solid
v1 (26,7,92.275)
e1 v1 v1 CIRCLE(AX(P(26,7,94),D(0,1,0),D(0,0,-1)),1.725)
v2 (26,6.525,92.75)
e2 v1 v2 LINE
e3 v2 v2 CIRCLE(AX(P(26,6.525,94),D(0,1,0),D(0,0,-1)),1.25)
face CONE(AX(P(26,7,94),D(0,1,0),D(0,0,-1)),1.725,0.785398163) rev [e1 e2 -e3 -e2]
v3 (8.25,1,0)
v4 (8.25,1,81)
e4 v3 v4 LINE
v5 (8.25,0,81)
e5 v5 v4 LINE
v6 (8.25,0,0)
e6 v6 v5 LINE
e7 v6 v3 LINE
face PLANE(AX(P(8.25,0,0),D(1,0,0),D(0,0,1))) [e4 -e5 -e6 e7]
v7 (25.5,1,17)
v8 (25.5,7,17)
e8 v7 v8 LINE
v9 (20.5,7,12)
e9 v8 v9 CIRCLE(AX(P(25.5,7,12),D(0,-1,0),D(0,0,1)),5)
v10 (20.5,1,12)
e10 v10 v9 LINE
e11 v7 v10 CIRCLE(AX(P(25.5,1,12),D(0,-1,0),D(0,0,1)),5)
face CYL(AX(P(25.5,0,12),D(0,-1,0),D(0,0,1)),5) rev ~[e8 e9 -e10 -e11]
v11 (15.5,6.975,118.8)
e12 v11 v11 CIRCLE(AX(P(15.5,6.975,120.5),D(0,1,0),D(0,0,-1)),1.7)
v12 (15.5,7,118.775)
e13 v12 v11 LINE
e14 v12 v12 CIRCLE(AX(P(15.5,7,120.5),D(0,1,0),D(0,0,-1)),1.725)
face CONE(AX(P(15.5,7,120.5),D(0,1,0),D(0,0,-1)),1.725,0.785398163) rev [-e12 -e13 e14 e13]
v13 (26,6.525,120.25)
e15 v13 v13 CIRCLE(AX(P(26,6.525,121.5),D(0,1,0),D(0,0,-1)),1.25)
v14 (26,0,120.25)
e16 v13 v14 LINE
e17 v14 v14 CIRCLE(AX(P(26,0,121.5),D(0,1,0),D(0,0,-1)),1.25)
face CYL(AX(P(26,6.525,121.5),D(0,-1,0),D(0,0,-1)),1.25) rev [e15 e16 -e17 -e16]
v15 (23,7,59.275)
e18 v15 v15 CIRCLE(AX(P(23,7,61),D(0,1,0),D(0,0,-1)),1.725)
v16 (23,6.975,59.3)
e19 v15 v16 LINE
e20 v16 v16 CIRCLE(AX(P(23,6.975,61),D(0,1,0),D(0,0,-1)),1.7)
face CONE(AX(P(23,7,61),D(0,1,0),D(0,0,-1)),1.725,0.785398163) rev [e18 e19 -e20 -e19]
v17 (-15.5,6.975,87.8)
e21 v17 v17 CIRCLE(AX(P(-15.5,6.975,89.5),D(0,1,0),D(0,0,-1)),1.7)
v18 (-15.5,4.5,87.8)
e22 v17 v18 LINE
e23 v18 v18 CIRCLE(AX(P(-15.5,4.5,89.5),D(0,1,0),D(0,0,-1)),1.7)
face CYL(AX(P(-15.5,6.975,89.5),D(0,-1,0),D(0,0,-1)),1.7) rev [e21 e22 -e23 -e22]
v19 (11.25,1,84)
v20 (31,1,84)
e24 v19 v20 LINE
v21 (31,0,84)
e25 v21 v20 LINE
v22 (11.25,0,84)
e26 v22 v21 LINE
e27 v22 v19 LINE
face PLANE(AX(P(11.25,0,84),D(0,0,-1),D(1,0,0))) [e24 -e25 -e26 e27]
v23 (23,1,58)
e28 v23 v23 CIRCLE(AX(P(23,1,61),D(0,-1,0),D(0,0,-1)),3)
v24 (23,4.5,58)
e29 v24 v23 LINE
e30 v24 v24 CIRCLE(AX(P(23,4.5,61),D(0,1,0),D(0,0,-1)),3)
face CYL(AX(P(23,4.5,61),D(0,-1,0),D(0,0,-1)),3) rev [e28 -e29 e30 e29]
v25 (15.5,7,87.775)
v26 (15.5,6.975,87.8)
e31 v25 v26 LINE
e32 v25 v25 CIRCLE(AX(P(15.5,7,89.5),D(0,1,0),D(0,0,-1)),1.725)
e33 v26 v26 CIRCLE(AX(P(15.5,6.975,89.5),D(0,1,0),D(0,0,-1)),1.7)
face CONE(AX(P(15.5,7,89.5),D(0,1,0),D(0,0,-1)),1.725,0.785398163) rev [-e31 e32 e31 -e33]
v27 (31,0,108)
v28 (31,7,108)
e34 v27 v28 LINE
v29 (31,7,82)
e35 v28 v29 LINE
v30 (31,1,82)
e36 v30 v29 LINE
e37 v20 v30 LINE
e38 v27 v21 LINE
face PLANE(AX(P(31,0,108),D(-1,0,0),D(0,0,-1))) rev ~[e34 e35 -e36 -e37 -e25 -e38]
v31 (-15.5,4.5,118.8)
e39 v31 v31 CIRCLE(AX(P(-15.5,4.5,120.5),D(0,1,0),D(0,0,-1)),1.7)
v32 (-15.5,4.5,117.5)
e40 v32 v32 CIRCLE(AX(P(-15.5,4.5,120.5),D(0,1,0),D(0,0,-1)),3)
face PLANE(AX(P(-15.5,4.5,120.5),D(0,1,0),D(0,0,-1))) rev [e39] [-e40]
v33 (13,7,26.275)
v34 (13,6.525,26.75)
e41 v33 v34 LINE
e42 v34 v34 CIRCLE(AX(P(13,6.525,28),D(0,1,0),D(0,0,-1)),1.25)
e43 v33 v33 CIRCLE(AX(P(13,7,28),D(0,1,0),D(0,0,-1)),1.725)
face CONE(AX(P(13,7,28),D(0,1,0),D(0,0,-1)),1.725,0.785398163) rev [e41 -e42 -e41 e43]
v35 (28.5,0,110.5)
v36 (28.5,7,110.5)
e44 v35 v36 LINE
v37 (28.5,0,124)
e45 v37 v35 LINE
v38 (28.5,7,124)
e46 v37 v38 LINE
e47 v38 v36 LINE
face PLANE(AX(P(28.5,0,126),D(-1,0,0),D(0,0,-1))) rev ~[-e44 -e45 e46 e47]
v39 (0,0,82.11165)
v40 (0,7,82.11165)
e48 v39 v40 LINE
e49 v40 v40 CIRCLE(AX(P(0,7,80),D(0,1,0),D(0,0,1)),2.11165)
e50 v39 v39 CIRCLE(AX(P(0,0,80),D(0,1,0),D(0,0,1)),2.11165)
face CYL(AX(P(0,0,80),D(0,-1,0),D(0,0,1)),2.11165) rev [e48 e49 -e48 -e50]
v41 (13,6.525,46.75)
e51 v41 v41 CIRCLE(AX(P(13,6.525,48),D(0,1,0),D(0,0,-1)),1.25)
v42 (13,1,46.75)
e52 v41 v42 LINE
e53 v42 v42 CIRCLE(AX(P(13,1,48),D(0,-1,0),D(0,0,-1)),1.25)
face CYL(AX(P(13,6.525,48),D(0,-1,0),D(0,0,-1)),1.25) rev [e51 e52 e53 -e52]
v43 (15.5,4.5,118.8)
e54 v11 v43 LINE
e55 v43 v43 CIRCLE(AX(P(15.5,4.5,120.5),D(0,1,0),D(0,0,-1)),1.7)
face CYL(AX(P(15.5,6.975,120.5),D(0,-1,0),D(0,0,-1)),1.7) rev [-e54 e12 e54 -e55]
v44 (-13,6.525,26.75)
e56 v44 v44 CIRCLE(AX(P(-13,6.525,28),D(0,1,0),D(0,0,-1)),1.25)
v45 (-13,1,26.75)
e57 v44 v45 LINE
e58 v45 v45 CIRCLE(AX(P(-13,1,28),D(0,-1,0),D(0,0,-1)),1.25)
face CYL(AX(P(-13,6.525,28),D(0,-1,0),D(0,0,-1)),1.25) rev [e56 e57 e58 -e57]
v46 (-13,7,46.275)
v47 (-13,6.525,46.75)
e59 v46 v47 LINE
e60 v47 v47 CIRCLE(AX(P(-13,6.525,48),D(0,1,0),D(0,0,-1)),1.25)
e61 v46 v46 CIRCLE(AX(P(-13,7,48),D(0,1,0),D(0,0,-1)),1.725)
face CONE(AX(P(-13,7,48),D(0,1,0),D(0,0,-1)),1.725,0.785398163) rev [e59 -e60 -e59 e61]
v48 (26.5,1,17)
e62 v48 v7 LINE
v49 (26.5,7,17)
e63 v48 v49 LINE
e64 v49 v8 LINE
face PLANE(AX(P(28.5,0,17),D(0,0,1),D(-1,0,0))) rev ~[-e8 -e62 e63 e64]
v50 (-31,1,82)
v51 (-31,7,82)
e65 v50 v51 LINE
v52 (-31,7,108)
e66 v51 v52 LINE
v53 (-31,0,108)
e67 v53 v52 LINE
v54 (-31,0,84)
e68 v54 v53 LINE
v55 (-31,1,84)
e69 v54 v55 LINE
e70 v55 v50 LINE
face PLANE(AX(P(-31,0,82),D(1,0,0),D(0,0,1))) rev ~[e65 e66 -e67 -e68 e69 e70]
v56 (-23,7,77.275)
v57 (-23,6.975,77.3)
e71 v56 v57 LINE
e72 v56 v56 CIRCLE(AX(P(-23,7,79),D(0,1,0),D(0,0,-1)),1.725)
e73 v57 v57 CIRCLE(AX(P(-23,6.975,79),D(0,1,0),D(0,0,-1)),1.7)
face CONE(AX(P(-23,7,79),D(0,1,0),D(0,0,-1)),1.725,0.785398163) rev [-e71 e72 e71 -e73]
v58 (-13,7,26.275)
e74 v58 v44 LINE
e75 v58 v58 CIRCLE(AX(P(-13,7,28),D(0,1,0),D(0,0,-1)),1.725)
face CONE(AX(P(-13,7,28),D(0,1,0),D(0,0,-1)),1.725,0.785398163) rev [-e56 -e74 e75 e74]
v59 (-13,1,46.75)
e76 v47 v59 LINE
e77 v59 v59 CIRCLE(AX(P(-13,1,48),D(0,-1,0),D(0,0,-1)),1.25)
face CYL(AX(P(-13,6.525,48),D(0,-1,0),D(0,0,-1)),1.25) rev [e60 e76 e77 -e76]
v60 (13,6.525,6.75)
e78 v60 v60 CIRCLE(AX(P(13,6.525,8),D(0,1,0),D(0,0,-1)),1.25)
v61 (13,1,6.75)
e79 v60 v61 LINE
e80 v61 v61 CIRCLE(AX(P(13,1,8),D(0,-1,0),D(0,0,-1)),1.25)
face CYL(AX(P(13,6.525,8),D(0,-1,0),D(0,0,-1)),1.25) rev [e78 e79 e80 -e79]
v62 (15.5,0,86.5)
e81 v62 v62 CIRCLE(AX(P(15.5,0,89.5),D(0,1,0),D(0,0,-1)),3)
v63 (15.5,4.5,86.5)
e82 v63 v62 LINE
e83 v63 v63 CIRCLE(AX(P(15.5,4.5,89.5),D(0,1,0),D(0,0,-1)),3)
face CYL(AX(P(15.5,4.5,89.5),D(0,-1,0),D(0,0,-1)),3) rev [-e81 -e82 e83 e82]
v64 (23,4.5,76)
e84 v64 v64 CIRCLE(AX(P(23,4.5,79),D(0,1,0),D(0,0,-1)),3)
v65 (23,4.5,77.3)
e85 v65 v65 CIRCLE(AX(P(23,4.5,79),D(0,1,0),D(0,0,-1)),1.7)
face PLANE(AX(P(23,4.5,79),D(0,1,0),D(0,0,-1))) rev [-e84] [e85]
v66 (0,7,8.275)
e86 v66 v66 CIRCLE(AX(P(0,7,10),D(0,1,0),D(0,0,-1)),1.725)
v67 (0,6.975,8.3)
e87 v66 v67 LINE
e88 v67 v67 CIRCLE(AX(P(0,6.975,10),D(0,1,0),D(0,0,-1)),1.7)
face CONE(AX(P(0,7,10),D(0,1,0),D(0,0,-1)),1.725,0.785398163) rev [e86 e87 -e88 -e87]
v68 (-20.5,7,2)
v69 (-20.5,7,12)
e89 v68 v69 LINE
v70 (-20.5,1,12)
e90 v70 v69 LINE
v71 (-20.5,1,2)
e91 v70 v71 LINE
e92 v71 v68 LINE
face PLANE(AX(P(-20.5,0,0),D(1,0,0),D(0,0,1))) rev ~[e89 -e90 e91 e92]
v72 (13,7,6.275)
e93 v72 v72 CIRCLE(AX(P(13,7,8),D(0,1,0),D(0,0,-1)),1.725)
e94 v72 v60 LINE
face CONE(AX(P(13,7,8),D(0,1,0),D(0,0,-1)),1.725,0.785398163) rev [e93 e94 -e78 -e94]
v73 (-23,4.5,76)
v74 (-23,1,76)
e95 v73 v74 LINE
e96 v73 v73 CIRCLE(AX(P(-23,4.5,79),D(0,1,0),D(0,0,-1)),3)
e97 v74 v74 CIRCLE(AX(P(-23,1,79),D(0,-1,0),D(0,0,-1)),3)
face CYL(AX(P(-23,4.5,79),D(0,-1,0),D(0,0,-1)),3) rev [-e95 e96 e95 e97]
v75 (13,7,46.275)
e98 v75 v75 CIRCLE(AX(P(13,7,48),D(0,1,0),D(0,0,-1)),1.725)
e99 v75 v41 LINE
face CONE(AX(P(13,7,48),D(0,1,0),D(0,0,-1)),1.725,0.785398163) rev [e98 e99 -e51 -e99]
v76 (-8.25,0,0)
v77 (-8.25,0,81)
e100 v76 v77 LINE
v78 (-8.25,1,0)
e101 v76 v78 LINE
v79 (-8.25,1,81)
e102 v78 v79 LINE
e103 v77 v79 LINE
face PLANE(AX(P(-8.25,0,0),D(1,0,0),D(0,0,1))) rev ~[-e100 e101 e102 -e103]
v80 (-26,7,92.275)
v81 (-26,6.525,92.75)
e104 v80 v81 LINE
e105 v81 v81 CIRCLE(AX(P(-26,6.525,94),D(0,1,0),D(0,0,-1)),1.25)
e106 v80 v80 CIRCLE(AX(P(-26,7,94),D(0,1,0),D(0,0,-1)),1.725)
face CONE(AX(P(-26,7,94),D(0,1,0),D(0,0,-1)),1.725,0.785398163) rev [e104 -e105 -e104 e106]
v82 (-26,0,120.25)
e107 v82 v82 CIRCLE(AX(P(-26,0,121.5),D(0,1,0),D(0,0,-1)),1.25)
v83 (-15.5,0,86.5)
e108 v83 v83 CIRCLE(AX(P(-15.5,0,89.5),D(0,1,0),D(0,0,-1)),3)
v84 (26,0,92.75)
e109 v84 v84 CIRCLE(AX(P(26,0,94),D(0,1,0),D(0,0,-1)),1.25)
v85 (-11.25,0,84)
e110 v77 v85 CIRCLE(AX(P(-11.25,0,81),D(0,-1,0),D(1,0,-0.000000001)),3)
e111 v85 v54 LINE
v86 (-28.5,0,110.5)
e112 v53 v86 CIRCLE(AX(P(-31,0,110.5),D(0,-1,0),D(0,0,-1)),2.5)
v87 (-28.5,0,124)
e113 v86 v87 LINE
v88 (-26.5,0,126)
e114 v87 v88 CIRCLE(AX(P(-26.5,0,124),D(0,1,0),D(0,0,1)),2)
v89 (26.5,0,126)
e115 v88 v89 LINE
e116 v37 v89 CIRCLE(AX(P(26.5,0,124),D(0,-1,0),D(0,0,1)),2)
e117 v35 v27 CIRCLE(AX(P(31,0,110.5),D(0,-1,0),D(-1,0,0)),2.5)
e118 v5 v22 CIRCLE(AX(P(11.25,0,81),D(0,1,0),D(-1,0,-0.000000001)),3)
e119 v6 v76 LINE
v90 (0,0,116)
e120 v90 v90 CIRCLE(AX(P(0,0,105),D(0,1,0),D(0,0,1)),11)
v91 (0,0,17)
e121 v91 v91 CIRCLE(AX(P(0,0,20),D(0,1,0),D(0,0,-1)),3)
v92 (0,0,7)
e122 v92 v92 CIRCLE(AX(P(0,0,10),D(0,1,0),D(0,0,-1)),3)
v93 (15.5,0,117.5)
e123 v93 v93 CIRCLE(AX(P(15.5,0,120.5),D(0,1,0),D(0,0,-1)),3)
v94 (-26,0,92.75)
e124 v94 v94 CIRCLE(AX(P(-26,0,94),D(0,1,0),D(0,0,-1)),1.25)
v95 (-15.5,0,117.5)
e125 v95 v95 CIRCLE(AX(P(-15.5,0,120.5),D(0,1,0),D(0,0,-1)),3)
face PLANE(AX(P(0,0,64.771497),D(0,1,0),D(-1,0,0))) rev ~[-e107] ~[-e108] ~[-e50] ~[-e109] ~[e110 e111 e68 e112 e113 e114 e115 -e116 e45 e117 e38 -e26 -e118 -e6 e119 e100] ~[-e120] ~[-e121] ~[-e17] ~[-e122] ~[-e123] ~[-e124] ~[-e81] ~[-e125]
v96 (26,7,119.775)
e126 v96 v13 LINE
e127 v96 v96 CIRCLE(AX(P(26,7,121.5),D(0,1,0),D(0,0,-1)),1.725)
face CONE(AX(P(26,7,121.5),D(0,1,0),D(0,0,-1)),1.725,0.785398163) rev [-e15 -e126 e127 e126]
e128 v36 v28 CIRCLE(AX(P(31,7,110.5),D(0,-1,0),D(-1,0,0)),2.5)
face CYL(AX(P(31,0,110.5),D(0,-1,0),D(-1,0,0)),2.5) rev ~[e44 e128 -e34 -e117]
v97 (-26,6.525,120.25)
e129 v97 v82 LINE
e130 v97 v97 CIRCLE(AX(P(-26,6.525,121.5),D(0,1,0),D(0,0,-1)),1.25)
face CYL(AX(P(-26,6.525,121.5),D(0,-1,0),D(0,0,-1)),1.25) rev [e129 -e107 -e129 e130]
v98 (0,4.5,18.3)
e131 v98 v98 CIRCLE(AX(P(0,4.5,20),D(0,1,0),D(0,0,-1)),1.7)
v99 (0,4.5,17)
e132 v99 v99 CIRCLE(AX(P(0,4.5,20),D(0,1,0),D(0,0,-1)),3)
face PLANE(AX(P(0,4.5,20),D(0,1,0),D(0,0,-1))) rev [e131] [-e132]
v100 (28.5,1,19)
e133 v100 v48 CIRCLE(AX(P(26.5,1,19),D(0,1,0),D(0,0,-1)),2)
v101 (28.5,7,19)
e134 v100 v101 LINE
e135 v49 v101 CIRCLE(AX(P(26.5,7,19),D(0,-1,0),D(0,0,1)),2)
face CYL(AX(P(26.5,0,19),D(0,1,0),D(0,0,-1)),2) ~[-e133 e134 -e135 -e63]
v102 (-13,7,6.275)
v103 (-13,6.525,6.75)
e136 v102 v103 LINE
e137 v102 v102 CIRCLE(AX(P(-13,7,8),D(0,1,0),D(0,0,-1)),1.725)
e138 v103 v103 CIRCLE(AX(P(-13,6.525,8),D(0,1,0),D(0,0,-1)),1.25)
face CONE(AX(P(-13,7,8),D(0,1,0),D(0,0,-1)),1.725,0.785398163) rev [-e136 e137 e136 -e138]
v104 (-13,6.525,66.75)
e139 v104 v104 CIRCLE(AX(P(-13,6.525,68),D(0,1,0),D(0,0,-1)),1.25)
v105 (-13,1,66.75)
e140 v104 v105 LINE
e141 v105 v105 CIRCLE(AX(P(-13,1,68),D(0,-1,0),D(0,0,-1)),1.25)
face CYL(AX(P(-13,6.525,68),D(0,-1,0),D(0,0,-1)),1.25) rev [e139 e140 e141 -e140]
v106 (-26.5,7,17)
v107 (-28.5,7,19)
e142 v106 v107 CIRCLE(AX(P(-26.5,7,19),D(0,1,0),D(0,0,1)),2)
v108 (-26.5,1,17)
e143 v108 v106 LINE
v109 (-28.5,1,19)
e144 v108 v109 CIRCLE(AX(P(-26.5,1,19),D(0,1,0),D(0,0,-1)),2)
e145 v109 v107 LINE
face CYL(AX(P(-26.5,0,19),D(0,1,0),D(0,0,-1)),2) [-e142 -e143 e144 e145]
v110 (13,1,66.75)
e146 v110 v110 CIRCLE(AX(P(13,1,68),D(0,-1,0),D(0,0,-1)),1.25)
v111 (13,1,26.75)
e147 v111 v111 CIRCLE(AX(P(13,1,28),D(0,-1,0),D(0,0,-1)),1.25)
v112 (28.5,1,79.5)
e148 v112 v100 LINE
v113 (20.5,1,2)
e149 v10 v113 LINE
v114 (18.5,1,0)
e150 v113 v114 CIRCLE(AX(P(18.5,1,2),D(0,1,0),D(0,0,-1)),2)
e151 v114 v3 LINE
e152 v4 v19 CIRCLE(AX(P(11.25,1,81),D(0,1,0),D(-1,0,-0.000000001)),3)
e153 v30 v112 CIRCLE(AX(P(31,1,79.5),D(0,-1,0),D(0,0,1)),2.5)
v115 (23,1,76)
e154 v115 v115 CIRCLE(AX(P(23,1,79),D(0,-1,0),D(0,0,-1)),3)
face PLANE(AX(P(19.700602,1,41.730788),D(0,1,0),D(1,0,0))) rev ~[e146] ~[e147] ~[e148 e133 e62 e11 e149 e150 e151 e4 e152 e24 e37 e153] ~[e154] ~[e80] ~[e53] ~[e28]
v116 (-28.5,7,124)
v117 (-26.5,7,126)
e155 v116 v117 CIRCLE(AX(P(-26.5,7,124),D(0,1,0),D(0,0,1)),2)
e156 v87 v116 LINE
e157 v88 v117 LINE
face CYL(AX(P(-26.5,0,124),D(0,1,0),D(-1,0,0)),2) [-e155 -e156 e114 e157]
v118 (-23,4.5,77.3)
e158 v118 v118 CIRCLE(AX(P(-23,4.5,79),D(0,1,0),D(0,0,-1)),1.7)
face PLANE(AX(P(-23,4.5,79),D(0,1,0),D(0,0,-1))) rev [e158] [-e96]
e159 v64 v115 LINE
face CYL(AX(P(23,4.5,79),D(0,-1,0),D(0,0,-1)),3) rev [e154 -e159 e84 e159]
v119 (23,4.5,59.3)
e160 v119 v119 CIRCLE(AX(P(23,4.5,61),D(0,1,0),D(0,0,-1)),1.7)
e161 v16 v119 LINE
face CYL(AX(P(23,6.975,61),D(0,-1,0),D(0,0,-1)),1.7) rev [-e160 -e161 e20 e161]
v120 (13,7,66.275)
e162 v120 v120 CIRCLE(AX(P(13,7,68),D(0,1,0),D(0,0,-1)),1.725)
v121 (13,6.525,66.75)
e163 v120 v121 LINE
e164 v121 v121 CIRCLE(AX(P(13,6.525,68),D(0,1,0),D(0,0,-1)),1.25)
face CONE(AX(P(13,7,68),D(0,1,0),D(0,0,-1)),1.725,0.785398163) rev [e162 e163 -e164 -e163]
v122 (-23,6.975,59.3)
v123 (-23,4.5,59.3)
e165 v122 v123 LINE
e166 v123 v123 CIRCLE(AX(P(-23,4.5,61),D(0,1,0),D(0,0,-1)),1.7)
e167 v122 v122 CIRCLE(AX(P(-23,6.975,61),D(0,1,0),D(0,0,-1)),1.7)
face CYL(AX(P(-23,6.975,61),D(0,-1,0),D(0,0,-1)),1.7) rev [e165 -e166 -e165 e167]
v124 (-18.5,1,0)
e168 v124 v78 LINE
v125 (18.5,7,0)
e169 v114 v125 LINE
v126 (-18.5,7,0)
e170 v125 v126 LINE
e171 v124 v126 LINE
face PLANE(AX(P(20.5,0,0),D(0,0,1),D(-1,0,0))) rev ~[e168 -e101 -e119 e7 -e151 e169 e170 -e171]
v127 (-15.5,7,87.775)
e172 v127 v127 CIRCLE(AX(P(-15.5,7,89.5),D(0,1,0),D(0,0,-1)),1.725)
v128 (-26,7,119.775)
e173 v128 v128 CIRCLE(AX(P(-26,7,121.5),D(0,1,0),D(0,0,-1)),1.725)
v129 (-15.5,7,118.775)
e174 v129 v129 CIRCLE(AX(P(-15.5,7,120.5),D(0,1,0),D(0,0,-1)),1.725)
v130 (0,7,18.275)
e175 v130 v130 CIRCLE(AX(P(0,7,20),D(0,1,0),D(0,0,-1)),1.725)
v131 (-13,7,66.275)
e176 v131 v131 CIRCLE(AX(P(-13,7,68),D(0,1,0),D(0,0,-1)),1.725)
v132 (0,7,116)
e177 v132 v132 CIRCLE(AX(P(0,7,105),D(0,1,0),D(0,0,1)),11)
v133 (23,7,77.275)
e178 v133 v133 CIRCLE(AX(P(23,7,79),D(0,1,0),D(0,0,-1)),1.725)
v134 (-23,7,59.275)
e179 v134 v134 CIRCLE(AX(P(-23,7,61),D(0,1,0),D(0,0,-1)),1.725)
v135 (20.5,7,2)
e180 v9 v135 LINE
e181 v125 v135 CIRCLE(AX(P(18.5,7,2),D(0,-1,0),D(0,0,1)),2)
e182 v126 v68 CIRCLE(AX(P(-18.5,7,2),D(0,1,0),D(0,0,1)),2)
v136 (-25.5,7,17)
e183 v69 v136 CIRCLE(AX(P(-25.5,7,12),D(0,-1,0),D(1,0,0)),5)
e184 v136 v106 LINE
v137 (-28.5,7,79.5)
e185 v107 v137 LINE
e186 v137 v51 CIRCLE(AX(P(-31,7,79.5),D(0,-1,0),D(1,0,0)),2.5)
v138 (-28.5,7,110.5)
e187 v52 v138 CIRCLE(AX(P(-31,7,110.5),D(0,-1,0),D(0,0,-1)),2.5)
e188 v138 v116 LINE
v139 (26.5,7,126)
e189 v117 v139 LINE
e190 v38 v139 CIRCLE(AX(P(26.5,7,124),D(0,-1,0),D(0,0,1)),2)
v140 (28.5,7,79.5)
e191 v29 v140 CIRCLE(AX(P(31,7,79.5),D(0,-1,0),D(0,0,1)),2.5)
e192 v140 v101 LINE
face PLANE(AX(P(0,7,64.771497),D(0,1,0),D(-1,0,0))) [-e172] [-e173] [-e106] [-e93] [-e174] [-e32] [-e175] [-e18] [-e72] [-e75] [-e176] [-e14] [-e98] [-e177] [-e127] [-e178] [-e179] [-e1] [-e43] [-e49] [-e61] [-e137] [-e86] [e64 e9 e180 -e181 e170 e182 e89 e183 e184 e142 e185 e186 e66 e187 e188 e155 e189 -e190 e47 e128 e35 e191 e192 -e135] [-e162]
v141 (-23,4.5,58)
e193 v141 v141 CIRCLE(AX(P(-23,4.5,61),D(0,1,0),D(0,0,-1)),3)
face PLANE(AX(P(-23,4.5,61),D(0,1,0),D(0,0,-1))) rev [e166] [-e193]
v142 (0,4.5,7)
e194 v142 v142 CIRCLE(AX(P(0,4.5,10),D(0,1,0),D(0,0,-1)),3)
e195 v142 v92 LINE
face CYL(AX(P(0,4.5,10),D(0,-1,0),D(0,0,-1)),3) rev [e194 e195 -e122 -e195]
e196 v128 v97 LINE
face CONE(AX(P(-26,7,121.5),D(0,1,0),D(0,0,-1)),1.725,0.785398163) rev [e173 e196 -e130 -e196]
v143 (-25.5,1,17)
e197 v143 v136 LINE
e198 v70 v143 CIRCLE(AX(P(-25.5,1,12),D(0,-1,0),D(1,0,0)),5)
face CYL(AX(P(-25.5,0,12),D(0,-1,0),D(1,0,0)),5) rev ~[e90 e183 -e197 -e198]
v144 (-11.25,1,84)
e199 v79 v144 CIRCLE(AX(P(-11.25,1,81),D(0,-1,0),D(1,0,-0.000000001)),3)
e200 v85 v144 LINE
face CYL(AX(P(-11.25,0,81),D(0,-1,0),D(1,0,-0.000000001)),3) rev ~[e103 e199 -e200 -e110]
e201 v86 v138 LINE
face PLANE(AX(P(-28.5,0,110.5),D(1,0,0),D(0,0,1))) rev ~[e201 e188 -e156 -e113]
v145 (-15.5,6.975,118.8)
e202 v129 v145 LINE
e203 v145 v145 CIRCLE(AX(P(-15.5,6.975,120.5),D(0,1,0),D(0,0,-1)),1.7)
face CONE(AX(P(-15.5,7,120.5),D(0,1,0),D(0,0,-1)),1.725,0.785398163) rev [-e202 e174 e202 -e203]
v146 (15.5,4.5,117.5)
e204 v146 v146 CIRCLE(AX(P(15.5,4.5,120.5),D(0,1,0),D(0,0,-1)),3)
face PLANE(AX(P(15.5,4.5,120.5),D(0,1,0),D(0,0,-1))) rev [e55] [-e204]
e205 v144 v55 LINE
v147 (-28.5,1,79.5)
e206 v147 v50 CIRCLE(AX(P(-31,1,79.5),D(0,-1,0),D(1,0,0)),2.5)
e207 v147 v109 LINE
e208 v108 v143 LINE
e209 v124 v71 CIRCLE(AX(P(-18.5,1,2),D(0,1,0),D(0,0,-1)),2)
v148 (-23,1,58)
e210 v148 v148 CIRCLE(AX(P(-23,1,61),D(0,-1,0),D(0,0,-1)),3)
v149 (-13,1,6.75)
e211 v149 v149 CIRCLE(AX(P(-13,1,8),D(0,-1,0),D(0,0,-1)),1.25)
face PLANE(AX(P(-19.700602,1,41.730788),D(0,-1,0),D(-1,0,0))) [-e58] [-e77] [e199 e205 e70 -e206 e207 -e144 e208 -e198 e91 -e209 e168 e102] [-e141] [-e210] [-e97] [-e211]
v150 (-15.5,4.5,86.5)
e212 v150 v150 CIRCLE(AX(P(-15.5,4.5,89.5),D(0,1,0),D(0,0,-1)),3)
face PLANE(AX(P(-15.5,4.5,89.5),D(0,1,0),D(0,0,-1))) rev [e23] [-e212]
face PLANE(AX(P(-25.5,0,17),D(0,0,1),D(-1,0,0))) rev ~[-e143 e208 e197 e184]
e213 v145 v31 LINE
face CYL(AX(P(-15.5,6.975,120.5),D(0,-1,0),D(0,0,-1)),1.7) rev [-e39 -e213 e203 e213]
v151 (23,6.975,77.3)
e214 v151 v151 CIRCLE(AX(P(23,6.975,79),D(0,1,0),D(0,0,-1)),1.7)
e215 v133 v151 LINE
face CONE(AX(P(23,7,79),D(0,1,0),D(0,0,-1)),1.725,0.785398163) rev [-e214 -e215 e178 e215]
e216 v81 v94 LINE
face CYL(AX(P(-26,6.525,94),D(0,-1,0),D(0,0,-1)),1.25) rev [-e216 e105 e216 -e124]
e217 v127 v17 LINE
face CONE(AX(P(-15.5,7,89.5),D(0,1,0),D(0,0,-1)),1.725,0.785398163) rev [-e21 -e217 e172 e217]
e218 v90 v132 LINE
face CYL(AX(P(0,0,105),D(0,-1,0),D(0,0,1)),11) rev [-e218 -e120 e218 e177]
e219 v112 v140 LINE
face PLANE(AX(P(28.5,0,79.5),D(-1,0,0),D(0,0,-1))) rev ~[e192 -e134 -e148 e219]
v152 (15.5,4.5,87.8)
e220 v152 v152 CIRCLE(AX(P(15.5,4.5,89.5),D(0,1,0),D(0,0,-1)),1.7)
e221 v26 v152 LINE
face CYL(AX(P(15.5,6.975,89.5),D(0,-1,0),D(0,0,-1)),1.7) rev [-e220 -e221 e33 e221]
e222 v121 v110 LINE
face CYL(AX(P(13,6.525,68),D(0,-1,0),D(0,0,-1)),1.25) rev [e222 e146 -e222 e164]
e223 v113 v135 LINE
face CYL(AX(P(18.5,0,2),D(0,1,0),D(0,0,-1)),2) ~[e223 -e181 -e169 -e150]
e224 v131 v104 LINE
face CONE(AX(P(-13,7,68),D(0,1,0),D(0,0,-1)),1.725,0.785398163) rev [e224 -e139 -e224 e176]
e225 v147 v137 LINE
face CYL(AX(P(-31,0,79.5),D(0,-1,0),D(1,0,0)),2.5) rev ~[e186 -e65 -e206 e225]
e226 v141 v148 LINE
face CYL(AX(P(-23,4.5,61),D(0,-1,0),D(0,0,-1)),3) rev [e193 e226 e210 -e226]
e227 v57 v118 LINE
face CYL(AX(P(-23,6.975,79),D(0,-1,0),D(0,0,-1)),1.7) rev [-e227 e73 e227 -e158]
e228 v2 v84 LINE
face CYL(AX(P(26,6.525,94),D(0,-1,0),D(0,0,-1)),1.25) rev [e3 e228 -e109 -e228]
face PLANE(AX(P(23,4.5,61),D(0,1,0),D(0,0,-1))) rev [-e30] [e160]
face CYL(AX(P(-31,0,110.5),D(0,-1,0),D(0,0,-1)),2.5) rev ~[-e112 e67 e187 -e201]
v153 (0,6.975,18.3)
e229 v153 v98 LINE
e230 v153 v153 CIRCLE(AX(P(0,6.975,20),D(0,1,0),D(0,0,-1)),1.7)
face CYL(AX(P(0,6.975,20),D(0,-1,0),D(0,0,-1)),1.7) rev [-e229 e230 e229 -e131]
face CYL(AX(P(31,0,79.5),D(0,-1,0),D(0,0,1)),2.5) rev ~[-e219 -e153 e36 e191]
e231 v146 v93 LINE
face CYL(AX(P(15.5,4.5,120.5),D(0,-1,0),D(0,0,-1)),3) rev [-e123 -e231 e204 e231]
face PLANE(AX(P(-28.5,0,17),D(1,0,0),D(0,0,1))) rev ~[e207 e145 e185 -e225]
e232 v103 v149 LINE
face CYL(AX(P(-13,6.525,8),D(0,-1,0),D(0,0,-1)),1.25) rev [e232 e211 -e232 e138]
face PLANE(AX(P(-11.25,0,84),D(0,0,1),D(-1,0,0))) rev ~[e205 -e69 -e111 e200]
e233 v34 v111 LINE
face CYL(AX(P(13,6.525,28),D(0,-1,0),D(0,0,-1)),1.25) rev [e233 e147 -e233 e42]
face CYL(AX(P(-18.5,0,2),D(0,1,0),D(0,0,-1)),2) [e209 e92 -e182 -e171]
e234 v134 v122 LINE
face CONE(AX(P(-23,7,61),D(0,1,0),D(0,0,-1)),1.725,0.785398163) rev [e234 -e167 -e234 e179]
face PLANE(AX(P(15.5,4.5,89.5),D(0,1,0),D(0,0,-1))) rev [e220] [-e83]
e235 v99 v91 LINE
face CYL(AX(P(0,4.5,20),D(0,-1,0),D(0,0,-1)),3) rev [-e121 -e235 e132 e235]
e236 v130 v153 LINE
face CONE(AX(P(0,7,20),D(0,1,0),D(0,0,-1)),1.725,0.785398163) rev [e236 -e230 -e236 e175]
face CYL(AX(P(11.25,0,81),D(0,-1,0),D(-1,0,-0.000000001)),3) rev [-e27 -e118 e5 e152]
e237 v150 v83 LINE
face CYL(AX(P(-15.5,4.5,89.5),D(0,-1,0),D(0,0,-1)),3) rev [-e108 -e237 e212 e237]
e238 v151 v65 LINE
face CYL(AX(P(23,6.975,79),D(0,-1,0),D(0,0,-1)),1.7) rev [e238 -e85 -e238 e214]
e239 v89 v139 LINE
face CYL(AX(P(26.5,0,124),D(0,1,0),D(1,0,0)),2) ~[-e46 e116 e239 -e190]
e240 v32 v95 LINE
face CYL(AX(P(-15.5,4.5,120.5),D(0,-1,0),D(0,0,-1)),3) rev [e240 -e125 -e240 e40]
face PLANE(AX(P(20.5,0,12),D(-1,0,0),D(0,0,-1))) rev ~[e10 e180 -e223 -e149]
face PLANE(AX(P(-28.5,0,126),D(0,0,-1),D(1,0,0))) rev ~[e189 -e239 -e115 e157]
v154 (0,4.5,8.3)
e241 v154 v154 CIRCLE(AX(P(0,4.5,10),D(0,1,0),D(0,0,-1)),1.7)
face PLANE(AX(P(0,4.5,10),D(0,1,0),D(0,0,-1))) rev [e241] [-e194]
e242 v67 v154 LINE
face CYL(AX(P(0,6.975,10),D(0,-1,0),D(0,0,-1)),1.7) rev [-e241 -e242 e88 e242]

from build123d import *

# Parameters (mm, degrees)
PLATE_MAIN_SKETCH_R             = 11
PLATE_MAIN_SKETCH_R_2           = 2.111650326
EXTRUDE_PLATE_MAIN_DEPTH        = 7
FILLET1_R                       = 2
M3X0_5_TAPPED_HOLE3_AT_2_COUNT  = 2
M3X0_5_TAPPED_HOLE3_AT_2_PITCH  = 27.5
M3X0_5_TAPPED_HOLE3_AT_3_COUNT  = 2
M3X0_5_TAPPED_HOLE3_AT_3_PITCH  = 58.823889705
M3X0_5_TAPPED_HOLE3_AT_4_COUNT  = 2
M3X0_5_TAPPED_HOLE3_AT_4_PITCH  = 66.206117542
M3X0_5_TAPPED_HOLE3_AT_5_COUNT  = 2
M3X0_5_TAPPED_HOLE3_AT_5_PITCH  = 83.20606949
M3X0_5_TAPPED_HOLE3_AT_6_COUNT  = 2
M3X0_5_TAPPED_HOLE3_AT_6_PITCH  = 101.307699609
M3X0_5_TAPPED_HOLE3_AT_7_COUNT  = 2
M3X0_5_TAPPED_HOLE3_AT_7_PITCH  = 120.013540903
M3X0_5_TAPPED_HOLE3_AT_8_COUNT  = 2
M3X0_5_TAPPED_HOLE3_AT_8_PITCH  = 114.242067558
M3X0_5_TAPPED_HOLE3_AT_9_COUNT  = 2
M3X0_5_TAPPED_HOLE3_AT_9_PITCH  = 94.399417371
M3X0_5_TAPPED_HOLE3_AT_10_COUNT = 2
M3X0_5_TAPPED_HOLE3_AT_10_PITCH = 74.640806534
M3X0_5_TAPPED_HOLE3_AT_11_COUNT = 2
M3X0_5_TAPPED_HOLE3_AT_11_PITCH = 55.056788864
M3X0_5_TAPPED_HOLE3_AT_12_COUNT = 2
M3X0_5_TAPPED_HOLE3_AT_12_PITCH = 52
CBORE_FOR_M3_SHCS1_AT_2_COUNT   = 2
CBORE_FOR_M3_SHCS1_AT_2_PITCH   = 31
CBORE_FOR_M3_SHCS1_AT_3_COUNT   = 2
CBORE_FOR_M3_SHCS1_AT_3_PITCH   = 43.840620434
CBORE_FOR_M3_SHCS1_AT_4_COUNT   = 2
CBORE_FOR_M3_SHCS1_AT_4_PITCH   = 31
CBORE_FOR_M3_SHCS1_AT_5_COUNT   = 2
CBORE_FOR_M3_SHCS1_AT_5_PITCH   = 42.172265768
CBORE_FOR_M3_SHCS1_AT_6_COUNT   = 2
CBORE_FOR_M3_SHCS1_AT_6_PITCH   = 56.608303278
CBORE_FOR_M3_SHCS1_AT_7_COUNT   = 2
CBORE_FOR_M3_SHCS1_AT_7_PITCH   = 70.86959856
CBORE_FOR_M3_SHCS1_AT_8_COUNT   = 2
CBORE_FOR_M3_SHCS1_AT_8_PITCH   = 59.970826241
CBORE_FOR_M3_SHCS1_AT_9_COUNT   = 2
CBORE_FOR_M3_SHCS1_AT_9_PITCH   = 101.688249075
CBORE_FOR_M3_SHCS1_AT_10_COUNT  = 2
CBORE_FOR_M3_SHCS1_AT_10_PITCH  = 111.581808553
CUT_RECESS_DEPTH                = 1


with BuildPart() as part:
    # Plate Main Sketch → Extrude Plate Main (new body)
    with BuildSketch(Plane(origin=(-158.085545862, 0, 24.679095537), x_dir=(-1, 0, 0), z_dir=(0, 1, 0))):
        with BuildLine():
            Line((-178.585545862, -24.679095537), (-137.585545862, -24.679095537))
            Line((-137.585545862, -24.679095537), (-137.585545862, -12.679095537))
            ThreePointArc((-137.585545862, -12.679095537), (-136.121079768, -9.143561631), (-132.585545862, -7.679095537))
            Line((-132.585545862, -7.679095537), (-129.585545862, -7.679095537))
            Line((-129.585545862, -7.679095537), (-129.585545862, 54.820904463))
            ThreePointArc((-129.585545862, 54.820904463), (-128.853312815, 56.588671416), (-127.085545862, 57.320904463))
            Line((-127.085545862, 57.320904463), (-127.085545862, 83.320904463))
            ThreePointArc((-127.085545862, 83.320904463), (-128.853312815, 84.05313751), (-129.585545862, 85.820904463))
            Line((-129.585545862, 85.820904463), (-129.585545862, 101.320904463))
            Line((-129.585545862, 101.320904463), (-186.585545862, 101.320904463))
            Line((-186.585545862, 101.320904463), (-186.585545862, 85.820904463))
            ThreePointArc((-186.585545862, 85.820904463), (-187.317778909, 84.05313751), (-189.085545862, 83.320904463))
            Line((-189.085545862, 83.320904463), (-189.085545862, 57.320904463))
            ThreePointArc((-189.085545862, 57.320904463), (-187.317778909, 56.588671416), (-186.585545862, 54.820904463))
            Line((-186.585545862, 54.820904463), (-186.585545862, -7.679095537))
            Line((-186.585545862, -7.679095537), (-183.585545862, -7.679095537))
            ThreePointArc((-183.585545862, -7.679095537), (-180.050011956, -9.143561631), (-178.585545862, -12.679095537))
            Line((-178.585545862, -12.679095537), (-178.585545862, -24.679095537))
        make_face()
        with Locations(Location((-158.085545862, 80.320904463, 0), (0, 0, 90))):
            Circle(PLATE_MAIN_SKETCH_R, mode=Mode.SUBTRACT)
        with Locations(Location((-158.085545862, 55.320904463, 0), (0, 0, 90))):
            Circle(PLATE_MAIN_SKETCH_R_2, mode=Mode.SUBTRACT)
    extrude(amount=EXTRUDE_PLATE_MAIN_DEPTH)

    # Fillet1
    fillet1_edges = [part.edges().sort_by_distance(p)[0] for p in [
        (28.5, 3.5, 126),
        (-28.5, 3.5, 126),
        (-28.5, 3.5, 17),
        (-20.5, 3.5, 0),
        (20.5, 3.5, 0),
        (28.5, 3.5, 17),
    ]]
    fillet(fillet1_edges, radius=FILLET1_R)

    # Sketch13 → M3x0.5 Tapped Hole3 (revolve, cut)
    with BuildSketch(Plane(origin=(26, 0, 121.5), x_dir=(0, 0, -1), z_dir=(1, 0, 0))):
        Polygon((0, 0), (0, 7), (1.725, 7), (1.25, 6.525), (1.25, 0), align=None)
    m3x0_5_tapped_hole3 = revolve(axis=Axis((26, -6.35, 121.5), (0, 1, 0)), mode=Mode.SUBTRACT)

    # M3x0.5 Tapped Hole3 at 2: M3x0.5 Tapped Hole3 ×2
    with Locations(*[(0, 0, -i * M3X0_5_TAPPED_HOLE3_AT_2_PITCH) for i in range(1, M3X0_5_TAPPED_HOLE3_AT_2_COUNT)]):
        add(m3x0_5_tapped_hole3, mode=Mode.SUBTRACT)

    # M3x0.5 Tapped Hole3 at 3: M3x0.5 Tapped Hole3 ×2
    with Locations(*[Vector(-0.8839945855497452, 0, -0.46749713658880765) * (i * M3X0_5_TAPPED_HOLE3_AT_3_PITCH) for i in range(1, M3X0_5_TAPPED_HOLE3_AT_3_COUNT)]):
        add(m3x0_5_tapped_hole3, mode=Mode.SUBTRACT)

    # M3x0.5 Tapped Hole3 at 4: M3x0.5 Tapped Hole3 ×2
    with Locations(*[Vector(-0.5890694311623529, 0, -0.8080824247996377) * (i * M3X0_5_TAPPED_HOLE3_AT_4_PITCH) for i in range(1, M3X0_5_TAPPED_HOLE3_AT_4_COUNT)]):
        add(m3x0_5_tapped_hole3, mode=Mode.SUBTRACT)

    # M3x0.5 Tapped Hole3 at 5: M3x0.5 Tapped Hole3 ×2
    with Locations(*[Vector(-0.46871580689935055, 0, -0.8833490206949294) * (i * M3X0_5_TAPPED_HOLE3_AT_5_PITCH) for i in range(1, M3X0_5_TAPPED_HOLE3_AT_5_COUNT)]):
        add(m3x0_5_tapped_hole3, mode=Mode.SUBTRACT)

    # M3x0.5 Tapped Hole3 at 6: M3x0.5 Tapped Hole3 ×2
    with Locations(*[Vector(-0.38496580369162126, 0, -0.9229308370555532) * (i * M3X0_5_TAPPED_HOLE3_AT_6_PITCH) for i in range(1, M3X0_5_TAPPED_HOLE3_AT_6_COUNT)]):
        add(m3x0_5_tapped_hole3, mode=Mode.SUBTRACT)

    # M3x0.5 Tapped Hole3 at 7: M3x0.5 Tapped Hole3 ×2
    with Locations(*[Vector(-0.32496333085967716, 0, -0.9457266167326497) * (i * M3X0_5_TAPPED_HOLE3_AT_7_PITCH) for i in range(1, M3X0_5_TAPPED_HOLE3_AT_7_COUNT)]):
        add(m3x0_5_tapped_hole3, mode=Mode.SUBTRACT)

    # M3x0.5 Tapped Hole3 at 8: M3x0.5 Tapped Hole3 ×2
    with Locations(*[Vector(-0.113793458730633, 0, -0.993504428148219) * (i * M3X0_5_TAPPED_HOLE3_AT_8_PITCH) for i in range(1, M3X0_5_TAPPED_HOLE3_AT_8_COUNT)]):
        add(m3x0_5_tapped_hole3, mode=Mode.SUBTRACT)

    # M3x0.5 Tapped Hole3 at 9: M3x0.5 Tapped Hole3 ×2
    with Locations(*[Vector(-0.13771271435815216, 0, -0.9904722148067102) * (i * M3X0_5_TAPPED_HOLE3_AT_9_PITCH) for i in range(1, M3X0_5_TAPPED_HOLE3_AT_9_COUNT)]):
        add(m3x0_5_tapped_hole3, mode=Mode.SUBTRACT)

    # M3x0.5 Tapped Hole3 at 10: M3x0.5 Tapped Hole3 ×2
    with Locations(*[Vector(-0.17416746420246676, 0, -0.9847160476062541) * (i * M3X0_5_TAPPED_HOLE3_AT_10_PITCH) for i in range(1, M3X0_5_TAPPED_HOLE3_AT_10_COUNT)]):
        add(m3x0_5_tapped_hole3, mode=Mode.SUBTRACT)

    # M3x0.5 Tapped Hole3 at 11: M3x0.5 Tapped Hole3 ×2
    with Locations(*[Vector(-0.23611983677697992, 0, -0.9717239436591096) * (i * M3X0_5_TAPPED_HOLE3_AT_11_PITCH) for i in range(1, M3X0_5_TAPPED_HOLE3_AT_11_COUNT)]):
        add(m3x0_5_tapped_hole3, mode=Mode.SUBTRACT)

    # M3x0.5 Tapped Hole3 at 12: M3x0.5 Tapped Hole3 ×2
    with Locations(*[(-i * M3X0_5_TAPPED_HOLE3_AT_12_PITCH, 0, 0) for i in range(1, M3X0_5_TAPPED_HOLE3_AT_12_COUNT)]):
        add(m3x0_5_tapped_hole3, mode=Mode.SUBTRACT)

    # Sketch5 → CBORE for M3 SHCS1 (revolve, cut)
    with BuildSketch(Plane(origin=(-15.5, 0, 120.5), x_dir=(0, 0, -1), z_dir=(1, 0, 0))):
        Polygon((0, 0), (0, 7), (1.725, 7), (1.7, 6.975), (1.7, 4.5), (3, 4.5), (3, 0), align=None)
    cbore_for_m3_shcs1 = revolve(axis=Axis((-15.5, -6.35, 120.5), (0, 1, 0)), mode=Mode.SUBTRACT)

    # CBORE for M3 SHCS1 at 2: CBORE for M3 SHCS1 ×2
    with Locations(*[(i * CBORE_FOR_M3_SHCS1_AT_2_PITCH, 0, 0) for i in range(1, CBORE_FOR_M3_SHCS1_AT_2_COUNT)]):
        add(cbore_for_m3_shcs1, mode=Mode.SUBTRACT)

    # CBORE for M3 SHCS1 at 3: CBORE for M3 SHCS1 ×2
    with Locations(*[Vector(0.7071067811865479, 0, -0.7071067811865472) * (i * CBORE_FOR_M3_SHCS1_AT_3_PITCH) for i in range(1, CBORE_FOR_M3_SHCS1_AT_3_COUNT)]):
        add(cbore_for_m3_shcs1, mode=Mode.SUBTRACT)

    # CBORE for M3 SHCS1 at 4: CBORE for M3 SHCS1 ×2
    with Locations(*[(0, 0, -i * CBORE_FOR_M3_SHCS1_AT_4_PITCH) for i in range(1, CBORE_FOR_M3_SHCS1_AT_4_COUNT)]):
        add(cbore_for_m3_shcs1, mode=Mode.SUBTRACT)

    # CBORE for M3 SHCS1 at 5: CBORE for M3 SHCS1 ×2
    with Locations(*[Vector(-0.1778419978967634, 0, -0.9840590550287557) * (i * CBORE_FOR_M3_SHCS1_AT_5_PITCH) for i in range(1, CBORE_FOR_M3_SHCS1_AT_5_COUNT)]):
        add(cbore_for_m3_shcs1, mode=Mode.SUBTRACT)

    # CBORE for M3 SHCS1 at 6: CBORE for M3 SHCS1 ×2
    with Locations(*[Vector(0.6801122409730789, 0, -0.7331080000099417) * (i * CBORE_FOR_M3_SHCS1_AT_6_PITCH) for i in range(1, CBORE_FOR_M3_SHCS1_AT_6_COUNT)]):
        add(cbore_for_m3_shcs1, mode=Mode.SUBTRACT)

    # CBORE for M3 SHCS1 at 7: CBORE for M3 SHCS1 ×2
    with Locations(*[Vector(0.5432512781572745, 0, -0.8395701571521512) * (i * CBORE_FOR_M3_SHCS1_AT_7_PITCH) for i in range(1, CBORE_FOR_M3_SHCS1_AT_7_COUNT)]):
        add(cbore_for_m3_shcs1, mode=Mode.SUBTRACT)

    # CBORE for M3 SHCS1 at 8: CBORE for M3 SHCS1 ×2
    with Locations(*[Vector(-0.12506080823181873, 0, -0.9921490786390946) * (i * CBORE_FOR_M3_SHCS1_AT_8_PITCH) for i in range(1, CBORE_FOR_M3_SHCS1_AT_8_COUNT)]):
        add(cbore_for_m3_shcs1, mode=Mode.SUBTRACT)

    # CBORE for M3 SHCS1 at 9: CBORE for M3 SHCS1 ×2
    with Locations(*[Vector(0.15242665834989907, 0, -0.9883147847848291) * (i * CBORE_FOR_M3_SHCS1_AT_9_PITCH) for i in range(1, CBORE_FOR_M3_SHCS1_AT_9_COUNT)]):
        add(cbore_for_m3_shcs1, mode=Mode.SUBTRACT)

    # CBORE for M3 SHCS1 at 10: CBORE for M3 SHCS1 ×2
    with Locations(*[Vector(0.13891153227375555, 0, -0.9903047945967733) * (i * CBORE_FOR_M3_SHCS1_AT_10_PITCH) for i in range(1, CBORE_FOR_M3_SHCS1_AT_10_COUNT)]):
        add(cbore_for_m3_shcs1, mode=Mode.SUBTRACT)

    # Reccess Sketch → Cut Recess (cut)
    with BuildSketch(Plane(origin=(0, 0, 0), x_dir=(1, 0, 0), z_dir=(0, 1, 0))):
        with BuildLine():
            Line((-8.25, 0), (-8.25, -81))
            ThreePointArc((-8.25, -81), (-9.128679656, -83.121320344), (-11.25, -84))
            Line((-11.25, -84), (-31, -84))
            Line((-31, -84), (-31, 0))
            Line((-31, 0), (-8.25, 0))
        make_face()
        with BuildLine():
            Line((31, 0), (8.25, 0))
            Line((8.25, 0), (8.25, -81))
            ThreePointArc((8.25, -81), (9.128679656, -83.121320344), (11.25, -84))
            Line((11.25, -84), (31, -84))
            Line((31, -84), (31, 0))
        make_face()
    extrude(amount=CUT_RECESS_DEPTH, mode=Mode.SUBTRACT)


solid = part.part
